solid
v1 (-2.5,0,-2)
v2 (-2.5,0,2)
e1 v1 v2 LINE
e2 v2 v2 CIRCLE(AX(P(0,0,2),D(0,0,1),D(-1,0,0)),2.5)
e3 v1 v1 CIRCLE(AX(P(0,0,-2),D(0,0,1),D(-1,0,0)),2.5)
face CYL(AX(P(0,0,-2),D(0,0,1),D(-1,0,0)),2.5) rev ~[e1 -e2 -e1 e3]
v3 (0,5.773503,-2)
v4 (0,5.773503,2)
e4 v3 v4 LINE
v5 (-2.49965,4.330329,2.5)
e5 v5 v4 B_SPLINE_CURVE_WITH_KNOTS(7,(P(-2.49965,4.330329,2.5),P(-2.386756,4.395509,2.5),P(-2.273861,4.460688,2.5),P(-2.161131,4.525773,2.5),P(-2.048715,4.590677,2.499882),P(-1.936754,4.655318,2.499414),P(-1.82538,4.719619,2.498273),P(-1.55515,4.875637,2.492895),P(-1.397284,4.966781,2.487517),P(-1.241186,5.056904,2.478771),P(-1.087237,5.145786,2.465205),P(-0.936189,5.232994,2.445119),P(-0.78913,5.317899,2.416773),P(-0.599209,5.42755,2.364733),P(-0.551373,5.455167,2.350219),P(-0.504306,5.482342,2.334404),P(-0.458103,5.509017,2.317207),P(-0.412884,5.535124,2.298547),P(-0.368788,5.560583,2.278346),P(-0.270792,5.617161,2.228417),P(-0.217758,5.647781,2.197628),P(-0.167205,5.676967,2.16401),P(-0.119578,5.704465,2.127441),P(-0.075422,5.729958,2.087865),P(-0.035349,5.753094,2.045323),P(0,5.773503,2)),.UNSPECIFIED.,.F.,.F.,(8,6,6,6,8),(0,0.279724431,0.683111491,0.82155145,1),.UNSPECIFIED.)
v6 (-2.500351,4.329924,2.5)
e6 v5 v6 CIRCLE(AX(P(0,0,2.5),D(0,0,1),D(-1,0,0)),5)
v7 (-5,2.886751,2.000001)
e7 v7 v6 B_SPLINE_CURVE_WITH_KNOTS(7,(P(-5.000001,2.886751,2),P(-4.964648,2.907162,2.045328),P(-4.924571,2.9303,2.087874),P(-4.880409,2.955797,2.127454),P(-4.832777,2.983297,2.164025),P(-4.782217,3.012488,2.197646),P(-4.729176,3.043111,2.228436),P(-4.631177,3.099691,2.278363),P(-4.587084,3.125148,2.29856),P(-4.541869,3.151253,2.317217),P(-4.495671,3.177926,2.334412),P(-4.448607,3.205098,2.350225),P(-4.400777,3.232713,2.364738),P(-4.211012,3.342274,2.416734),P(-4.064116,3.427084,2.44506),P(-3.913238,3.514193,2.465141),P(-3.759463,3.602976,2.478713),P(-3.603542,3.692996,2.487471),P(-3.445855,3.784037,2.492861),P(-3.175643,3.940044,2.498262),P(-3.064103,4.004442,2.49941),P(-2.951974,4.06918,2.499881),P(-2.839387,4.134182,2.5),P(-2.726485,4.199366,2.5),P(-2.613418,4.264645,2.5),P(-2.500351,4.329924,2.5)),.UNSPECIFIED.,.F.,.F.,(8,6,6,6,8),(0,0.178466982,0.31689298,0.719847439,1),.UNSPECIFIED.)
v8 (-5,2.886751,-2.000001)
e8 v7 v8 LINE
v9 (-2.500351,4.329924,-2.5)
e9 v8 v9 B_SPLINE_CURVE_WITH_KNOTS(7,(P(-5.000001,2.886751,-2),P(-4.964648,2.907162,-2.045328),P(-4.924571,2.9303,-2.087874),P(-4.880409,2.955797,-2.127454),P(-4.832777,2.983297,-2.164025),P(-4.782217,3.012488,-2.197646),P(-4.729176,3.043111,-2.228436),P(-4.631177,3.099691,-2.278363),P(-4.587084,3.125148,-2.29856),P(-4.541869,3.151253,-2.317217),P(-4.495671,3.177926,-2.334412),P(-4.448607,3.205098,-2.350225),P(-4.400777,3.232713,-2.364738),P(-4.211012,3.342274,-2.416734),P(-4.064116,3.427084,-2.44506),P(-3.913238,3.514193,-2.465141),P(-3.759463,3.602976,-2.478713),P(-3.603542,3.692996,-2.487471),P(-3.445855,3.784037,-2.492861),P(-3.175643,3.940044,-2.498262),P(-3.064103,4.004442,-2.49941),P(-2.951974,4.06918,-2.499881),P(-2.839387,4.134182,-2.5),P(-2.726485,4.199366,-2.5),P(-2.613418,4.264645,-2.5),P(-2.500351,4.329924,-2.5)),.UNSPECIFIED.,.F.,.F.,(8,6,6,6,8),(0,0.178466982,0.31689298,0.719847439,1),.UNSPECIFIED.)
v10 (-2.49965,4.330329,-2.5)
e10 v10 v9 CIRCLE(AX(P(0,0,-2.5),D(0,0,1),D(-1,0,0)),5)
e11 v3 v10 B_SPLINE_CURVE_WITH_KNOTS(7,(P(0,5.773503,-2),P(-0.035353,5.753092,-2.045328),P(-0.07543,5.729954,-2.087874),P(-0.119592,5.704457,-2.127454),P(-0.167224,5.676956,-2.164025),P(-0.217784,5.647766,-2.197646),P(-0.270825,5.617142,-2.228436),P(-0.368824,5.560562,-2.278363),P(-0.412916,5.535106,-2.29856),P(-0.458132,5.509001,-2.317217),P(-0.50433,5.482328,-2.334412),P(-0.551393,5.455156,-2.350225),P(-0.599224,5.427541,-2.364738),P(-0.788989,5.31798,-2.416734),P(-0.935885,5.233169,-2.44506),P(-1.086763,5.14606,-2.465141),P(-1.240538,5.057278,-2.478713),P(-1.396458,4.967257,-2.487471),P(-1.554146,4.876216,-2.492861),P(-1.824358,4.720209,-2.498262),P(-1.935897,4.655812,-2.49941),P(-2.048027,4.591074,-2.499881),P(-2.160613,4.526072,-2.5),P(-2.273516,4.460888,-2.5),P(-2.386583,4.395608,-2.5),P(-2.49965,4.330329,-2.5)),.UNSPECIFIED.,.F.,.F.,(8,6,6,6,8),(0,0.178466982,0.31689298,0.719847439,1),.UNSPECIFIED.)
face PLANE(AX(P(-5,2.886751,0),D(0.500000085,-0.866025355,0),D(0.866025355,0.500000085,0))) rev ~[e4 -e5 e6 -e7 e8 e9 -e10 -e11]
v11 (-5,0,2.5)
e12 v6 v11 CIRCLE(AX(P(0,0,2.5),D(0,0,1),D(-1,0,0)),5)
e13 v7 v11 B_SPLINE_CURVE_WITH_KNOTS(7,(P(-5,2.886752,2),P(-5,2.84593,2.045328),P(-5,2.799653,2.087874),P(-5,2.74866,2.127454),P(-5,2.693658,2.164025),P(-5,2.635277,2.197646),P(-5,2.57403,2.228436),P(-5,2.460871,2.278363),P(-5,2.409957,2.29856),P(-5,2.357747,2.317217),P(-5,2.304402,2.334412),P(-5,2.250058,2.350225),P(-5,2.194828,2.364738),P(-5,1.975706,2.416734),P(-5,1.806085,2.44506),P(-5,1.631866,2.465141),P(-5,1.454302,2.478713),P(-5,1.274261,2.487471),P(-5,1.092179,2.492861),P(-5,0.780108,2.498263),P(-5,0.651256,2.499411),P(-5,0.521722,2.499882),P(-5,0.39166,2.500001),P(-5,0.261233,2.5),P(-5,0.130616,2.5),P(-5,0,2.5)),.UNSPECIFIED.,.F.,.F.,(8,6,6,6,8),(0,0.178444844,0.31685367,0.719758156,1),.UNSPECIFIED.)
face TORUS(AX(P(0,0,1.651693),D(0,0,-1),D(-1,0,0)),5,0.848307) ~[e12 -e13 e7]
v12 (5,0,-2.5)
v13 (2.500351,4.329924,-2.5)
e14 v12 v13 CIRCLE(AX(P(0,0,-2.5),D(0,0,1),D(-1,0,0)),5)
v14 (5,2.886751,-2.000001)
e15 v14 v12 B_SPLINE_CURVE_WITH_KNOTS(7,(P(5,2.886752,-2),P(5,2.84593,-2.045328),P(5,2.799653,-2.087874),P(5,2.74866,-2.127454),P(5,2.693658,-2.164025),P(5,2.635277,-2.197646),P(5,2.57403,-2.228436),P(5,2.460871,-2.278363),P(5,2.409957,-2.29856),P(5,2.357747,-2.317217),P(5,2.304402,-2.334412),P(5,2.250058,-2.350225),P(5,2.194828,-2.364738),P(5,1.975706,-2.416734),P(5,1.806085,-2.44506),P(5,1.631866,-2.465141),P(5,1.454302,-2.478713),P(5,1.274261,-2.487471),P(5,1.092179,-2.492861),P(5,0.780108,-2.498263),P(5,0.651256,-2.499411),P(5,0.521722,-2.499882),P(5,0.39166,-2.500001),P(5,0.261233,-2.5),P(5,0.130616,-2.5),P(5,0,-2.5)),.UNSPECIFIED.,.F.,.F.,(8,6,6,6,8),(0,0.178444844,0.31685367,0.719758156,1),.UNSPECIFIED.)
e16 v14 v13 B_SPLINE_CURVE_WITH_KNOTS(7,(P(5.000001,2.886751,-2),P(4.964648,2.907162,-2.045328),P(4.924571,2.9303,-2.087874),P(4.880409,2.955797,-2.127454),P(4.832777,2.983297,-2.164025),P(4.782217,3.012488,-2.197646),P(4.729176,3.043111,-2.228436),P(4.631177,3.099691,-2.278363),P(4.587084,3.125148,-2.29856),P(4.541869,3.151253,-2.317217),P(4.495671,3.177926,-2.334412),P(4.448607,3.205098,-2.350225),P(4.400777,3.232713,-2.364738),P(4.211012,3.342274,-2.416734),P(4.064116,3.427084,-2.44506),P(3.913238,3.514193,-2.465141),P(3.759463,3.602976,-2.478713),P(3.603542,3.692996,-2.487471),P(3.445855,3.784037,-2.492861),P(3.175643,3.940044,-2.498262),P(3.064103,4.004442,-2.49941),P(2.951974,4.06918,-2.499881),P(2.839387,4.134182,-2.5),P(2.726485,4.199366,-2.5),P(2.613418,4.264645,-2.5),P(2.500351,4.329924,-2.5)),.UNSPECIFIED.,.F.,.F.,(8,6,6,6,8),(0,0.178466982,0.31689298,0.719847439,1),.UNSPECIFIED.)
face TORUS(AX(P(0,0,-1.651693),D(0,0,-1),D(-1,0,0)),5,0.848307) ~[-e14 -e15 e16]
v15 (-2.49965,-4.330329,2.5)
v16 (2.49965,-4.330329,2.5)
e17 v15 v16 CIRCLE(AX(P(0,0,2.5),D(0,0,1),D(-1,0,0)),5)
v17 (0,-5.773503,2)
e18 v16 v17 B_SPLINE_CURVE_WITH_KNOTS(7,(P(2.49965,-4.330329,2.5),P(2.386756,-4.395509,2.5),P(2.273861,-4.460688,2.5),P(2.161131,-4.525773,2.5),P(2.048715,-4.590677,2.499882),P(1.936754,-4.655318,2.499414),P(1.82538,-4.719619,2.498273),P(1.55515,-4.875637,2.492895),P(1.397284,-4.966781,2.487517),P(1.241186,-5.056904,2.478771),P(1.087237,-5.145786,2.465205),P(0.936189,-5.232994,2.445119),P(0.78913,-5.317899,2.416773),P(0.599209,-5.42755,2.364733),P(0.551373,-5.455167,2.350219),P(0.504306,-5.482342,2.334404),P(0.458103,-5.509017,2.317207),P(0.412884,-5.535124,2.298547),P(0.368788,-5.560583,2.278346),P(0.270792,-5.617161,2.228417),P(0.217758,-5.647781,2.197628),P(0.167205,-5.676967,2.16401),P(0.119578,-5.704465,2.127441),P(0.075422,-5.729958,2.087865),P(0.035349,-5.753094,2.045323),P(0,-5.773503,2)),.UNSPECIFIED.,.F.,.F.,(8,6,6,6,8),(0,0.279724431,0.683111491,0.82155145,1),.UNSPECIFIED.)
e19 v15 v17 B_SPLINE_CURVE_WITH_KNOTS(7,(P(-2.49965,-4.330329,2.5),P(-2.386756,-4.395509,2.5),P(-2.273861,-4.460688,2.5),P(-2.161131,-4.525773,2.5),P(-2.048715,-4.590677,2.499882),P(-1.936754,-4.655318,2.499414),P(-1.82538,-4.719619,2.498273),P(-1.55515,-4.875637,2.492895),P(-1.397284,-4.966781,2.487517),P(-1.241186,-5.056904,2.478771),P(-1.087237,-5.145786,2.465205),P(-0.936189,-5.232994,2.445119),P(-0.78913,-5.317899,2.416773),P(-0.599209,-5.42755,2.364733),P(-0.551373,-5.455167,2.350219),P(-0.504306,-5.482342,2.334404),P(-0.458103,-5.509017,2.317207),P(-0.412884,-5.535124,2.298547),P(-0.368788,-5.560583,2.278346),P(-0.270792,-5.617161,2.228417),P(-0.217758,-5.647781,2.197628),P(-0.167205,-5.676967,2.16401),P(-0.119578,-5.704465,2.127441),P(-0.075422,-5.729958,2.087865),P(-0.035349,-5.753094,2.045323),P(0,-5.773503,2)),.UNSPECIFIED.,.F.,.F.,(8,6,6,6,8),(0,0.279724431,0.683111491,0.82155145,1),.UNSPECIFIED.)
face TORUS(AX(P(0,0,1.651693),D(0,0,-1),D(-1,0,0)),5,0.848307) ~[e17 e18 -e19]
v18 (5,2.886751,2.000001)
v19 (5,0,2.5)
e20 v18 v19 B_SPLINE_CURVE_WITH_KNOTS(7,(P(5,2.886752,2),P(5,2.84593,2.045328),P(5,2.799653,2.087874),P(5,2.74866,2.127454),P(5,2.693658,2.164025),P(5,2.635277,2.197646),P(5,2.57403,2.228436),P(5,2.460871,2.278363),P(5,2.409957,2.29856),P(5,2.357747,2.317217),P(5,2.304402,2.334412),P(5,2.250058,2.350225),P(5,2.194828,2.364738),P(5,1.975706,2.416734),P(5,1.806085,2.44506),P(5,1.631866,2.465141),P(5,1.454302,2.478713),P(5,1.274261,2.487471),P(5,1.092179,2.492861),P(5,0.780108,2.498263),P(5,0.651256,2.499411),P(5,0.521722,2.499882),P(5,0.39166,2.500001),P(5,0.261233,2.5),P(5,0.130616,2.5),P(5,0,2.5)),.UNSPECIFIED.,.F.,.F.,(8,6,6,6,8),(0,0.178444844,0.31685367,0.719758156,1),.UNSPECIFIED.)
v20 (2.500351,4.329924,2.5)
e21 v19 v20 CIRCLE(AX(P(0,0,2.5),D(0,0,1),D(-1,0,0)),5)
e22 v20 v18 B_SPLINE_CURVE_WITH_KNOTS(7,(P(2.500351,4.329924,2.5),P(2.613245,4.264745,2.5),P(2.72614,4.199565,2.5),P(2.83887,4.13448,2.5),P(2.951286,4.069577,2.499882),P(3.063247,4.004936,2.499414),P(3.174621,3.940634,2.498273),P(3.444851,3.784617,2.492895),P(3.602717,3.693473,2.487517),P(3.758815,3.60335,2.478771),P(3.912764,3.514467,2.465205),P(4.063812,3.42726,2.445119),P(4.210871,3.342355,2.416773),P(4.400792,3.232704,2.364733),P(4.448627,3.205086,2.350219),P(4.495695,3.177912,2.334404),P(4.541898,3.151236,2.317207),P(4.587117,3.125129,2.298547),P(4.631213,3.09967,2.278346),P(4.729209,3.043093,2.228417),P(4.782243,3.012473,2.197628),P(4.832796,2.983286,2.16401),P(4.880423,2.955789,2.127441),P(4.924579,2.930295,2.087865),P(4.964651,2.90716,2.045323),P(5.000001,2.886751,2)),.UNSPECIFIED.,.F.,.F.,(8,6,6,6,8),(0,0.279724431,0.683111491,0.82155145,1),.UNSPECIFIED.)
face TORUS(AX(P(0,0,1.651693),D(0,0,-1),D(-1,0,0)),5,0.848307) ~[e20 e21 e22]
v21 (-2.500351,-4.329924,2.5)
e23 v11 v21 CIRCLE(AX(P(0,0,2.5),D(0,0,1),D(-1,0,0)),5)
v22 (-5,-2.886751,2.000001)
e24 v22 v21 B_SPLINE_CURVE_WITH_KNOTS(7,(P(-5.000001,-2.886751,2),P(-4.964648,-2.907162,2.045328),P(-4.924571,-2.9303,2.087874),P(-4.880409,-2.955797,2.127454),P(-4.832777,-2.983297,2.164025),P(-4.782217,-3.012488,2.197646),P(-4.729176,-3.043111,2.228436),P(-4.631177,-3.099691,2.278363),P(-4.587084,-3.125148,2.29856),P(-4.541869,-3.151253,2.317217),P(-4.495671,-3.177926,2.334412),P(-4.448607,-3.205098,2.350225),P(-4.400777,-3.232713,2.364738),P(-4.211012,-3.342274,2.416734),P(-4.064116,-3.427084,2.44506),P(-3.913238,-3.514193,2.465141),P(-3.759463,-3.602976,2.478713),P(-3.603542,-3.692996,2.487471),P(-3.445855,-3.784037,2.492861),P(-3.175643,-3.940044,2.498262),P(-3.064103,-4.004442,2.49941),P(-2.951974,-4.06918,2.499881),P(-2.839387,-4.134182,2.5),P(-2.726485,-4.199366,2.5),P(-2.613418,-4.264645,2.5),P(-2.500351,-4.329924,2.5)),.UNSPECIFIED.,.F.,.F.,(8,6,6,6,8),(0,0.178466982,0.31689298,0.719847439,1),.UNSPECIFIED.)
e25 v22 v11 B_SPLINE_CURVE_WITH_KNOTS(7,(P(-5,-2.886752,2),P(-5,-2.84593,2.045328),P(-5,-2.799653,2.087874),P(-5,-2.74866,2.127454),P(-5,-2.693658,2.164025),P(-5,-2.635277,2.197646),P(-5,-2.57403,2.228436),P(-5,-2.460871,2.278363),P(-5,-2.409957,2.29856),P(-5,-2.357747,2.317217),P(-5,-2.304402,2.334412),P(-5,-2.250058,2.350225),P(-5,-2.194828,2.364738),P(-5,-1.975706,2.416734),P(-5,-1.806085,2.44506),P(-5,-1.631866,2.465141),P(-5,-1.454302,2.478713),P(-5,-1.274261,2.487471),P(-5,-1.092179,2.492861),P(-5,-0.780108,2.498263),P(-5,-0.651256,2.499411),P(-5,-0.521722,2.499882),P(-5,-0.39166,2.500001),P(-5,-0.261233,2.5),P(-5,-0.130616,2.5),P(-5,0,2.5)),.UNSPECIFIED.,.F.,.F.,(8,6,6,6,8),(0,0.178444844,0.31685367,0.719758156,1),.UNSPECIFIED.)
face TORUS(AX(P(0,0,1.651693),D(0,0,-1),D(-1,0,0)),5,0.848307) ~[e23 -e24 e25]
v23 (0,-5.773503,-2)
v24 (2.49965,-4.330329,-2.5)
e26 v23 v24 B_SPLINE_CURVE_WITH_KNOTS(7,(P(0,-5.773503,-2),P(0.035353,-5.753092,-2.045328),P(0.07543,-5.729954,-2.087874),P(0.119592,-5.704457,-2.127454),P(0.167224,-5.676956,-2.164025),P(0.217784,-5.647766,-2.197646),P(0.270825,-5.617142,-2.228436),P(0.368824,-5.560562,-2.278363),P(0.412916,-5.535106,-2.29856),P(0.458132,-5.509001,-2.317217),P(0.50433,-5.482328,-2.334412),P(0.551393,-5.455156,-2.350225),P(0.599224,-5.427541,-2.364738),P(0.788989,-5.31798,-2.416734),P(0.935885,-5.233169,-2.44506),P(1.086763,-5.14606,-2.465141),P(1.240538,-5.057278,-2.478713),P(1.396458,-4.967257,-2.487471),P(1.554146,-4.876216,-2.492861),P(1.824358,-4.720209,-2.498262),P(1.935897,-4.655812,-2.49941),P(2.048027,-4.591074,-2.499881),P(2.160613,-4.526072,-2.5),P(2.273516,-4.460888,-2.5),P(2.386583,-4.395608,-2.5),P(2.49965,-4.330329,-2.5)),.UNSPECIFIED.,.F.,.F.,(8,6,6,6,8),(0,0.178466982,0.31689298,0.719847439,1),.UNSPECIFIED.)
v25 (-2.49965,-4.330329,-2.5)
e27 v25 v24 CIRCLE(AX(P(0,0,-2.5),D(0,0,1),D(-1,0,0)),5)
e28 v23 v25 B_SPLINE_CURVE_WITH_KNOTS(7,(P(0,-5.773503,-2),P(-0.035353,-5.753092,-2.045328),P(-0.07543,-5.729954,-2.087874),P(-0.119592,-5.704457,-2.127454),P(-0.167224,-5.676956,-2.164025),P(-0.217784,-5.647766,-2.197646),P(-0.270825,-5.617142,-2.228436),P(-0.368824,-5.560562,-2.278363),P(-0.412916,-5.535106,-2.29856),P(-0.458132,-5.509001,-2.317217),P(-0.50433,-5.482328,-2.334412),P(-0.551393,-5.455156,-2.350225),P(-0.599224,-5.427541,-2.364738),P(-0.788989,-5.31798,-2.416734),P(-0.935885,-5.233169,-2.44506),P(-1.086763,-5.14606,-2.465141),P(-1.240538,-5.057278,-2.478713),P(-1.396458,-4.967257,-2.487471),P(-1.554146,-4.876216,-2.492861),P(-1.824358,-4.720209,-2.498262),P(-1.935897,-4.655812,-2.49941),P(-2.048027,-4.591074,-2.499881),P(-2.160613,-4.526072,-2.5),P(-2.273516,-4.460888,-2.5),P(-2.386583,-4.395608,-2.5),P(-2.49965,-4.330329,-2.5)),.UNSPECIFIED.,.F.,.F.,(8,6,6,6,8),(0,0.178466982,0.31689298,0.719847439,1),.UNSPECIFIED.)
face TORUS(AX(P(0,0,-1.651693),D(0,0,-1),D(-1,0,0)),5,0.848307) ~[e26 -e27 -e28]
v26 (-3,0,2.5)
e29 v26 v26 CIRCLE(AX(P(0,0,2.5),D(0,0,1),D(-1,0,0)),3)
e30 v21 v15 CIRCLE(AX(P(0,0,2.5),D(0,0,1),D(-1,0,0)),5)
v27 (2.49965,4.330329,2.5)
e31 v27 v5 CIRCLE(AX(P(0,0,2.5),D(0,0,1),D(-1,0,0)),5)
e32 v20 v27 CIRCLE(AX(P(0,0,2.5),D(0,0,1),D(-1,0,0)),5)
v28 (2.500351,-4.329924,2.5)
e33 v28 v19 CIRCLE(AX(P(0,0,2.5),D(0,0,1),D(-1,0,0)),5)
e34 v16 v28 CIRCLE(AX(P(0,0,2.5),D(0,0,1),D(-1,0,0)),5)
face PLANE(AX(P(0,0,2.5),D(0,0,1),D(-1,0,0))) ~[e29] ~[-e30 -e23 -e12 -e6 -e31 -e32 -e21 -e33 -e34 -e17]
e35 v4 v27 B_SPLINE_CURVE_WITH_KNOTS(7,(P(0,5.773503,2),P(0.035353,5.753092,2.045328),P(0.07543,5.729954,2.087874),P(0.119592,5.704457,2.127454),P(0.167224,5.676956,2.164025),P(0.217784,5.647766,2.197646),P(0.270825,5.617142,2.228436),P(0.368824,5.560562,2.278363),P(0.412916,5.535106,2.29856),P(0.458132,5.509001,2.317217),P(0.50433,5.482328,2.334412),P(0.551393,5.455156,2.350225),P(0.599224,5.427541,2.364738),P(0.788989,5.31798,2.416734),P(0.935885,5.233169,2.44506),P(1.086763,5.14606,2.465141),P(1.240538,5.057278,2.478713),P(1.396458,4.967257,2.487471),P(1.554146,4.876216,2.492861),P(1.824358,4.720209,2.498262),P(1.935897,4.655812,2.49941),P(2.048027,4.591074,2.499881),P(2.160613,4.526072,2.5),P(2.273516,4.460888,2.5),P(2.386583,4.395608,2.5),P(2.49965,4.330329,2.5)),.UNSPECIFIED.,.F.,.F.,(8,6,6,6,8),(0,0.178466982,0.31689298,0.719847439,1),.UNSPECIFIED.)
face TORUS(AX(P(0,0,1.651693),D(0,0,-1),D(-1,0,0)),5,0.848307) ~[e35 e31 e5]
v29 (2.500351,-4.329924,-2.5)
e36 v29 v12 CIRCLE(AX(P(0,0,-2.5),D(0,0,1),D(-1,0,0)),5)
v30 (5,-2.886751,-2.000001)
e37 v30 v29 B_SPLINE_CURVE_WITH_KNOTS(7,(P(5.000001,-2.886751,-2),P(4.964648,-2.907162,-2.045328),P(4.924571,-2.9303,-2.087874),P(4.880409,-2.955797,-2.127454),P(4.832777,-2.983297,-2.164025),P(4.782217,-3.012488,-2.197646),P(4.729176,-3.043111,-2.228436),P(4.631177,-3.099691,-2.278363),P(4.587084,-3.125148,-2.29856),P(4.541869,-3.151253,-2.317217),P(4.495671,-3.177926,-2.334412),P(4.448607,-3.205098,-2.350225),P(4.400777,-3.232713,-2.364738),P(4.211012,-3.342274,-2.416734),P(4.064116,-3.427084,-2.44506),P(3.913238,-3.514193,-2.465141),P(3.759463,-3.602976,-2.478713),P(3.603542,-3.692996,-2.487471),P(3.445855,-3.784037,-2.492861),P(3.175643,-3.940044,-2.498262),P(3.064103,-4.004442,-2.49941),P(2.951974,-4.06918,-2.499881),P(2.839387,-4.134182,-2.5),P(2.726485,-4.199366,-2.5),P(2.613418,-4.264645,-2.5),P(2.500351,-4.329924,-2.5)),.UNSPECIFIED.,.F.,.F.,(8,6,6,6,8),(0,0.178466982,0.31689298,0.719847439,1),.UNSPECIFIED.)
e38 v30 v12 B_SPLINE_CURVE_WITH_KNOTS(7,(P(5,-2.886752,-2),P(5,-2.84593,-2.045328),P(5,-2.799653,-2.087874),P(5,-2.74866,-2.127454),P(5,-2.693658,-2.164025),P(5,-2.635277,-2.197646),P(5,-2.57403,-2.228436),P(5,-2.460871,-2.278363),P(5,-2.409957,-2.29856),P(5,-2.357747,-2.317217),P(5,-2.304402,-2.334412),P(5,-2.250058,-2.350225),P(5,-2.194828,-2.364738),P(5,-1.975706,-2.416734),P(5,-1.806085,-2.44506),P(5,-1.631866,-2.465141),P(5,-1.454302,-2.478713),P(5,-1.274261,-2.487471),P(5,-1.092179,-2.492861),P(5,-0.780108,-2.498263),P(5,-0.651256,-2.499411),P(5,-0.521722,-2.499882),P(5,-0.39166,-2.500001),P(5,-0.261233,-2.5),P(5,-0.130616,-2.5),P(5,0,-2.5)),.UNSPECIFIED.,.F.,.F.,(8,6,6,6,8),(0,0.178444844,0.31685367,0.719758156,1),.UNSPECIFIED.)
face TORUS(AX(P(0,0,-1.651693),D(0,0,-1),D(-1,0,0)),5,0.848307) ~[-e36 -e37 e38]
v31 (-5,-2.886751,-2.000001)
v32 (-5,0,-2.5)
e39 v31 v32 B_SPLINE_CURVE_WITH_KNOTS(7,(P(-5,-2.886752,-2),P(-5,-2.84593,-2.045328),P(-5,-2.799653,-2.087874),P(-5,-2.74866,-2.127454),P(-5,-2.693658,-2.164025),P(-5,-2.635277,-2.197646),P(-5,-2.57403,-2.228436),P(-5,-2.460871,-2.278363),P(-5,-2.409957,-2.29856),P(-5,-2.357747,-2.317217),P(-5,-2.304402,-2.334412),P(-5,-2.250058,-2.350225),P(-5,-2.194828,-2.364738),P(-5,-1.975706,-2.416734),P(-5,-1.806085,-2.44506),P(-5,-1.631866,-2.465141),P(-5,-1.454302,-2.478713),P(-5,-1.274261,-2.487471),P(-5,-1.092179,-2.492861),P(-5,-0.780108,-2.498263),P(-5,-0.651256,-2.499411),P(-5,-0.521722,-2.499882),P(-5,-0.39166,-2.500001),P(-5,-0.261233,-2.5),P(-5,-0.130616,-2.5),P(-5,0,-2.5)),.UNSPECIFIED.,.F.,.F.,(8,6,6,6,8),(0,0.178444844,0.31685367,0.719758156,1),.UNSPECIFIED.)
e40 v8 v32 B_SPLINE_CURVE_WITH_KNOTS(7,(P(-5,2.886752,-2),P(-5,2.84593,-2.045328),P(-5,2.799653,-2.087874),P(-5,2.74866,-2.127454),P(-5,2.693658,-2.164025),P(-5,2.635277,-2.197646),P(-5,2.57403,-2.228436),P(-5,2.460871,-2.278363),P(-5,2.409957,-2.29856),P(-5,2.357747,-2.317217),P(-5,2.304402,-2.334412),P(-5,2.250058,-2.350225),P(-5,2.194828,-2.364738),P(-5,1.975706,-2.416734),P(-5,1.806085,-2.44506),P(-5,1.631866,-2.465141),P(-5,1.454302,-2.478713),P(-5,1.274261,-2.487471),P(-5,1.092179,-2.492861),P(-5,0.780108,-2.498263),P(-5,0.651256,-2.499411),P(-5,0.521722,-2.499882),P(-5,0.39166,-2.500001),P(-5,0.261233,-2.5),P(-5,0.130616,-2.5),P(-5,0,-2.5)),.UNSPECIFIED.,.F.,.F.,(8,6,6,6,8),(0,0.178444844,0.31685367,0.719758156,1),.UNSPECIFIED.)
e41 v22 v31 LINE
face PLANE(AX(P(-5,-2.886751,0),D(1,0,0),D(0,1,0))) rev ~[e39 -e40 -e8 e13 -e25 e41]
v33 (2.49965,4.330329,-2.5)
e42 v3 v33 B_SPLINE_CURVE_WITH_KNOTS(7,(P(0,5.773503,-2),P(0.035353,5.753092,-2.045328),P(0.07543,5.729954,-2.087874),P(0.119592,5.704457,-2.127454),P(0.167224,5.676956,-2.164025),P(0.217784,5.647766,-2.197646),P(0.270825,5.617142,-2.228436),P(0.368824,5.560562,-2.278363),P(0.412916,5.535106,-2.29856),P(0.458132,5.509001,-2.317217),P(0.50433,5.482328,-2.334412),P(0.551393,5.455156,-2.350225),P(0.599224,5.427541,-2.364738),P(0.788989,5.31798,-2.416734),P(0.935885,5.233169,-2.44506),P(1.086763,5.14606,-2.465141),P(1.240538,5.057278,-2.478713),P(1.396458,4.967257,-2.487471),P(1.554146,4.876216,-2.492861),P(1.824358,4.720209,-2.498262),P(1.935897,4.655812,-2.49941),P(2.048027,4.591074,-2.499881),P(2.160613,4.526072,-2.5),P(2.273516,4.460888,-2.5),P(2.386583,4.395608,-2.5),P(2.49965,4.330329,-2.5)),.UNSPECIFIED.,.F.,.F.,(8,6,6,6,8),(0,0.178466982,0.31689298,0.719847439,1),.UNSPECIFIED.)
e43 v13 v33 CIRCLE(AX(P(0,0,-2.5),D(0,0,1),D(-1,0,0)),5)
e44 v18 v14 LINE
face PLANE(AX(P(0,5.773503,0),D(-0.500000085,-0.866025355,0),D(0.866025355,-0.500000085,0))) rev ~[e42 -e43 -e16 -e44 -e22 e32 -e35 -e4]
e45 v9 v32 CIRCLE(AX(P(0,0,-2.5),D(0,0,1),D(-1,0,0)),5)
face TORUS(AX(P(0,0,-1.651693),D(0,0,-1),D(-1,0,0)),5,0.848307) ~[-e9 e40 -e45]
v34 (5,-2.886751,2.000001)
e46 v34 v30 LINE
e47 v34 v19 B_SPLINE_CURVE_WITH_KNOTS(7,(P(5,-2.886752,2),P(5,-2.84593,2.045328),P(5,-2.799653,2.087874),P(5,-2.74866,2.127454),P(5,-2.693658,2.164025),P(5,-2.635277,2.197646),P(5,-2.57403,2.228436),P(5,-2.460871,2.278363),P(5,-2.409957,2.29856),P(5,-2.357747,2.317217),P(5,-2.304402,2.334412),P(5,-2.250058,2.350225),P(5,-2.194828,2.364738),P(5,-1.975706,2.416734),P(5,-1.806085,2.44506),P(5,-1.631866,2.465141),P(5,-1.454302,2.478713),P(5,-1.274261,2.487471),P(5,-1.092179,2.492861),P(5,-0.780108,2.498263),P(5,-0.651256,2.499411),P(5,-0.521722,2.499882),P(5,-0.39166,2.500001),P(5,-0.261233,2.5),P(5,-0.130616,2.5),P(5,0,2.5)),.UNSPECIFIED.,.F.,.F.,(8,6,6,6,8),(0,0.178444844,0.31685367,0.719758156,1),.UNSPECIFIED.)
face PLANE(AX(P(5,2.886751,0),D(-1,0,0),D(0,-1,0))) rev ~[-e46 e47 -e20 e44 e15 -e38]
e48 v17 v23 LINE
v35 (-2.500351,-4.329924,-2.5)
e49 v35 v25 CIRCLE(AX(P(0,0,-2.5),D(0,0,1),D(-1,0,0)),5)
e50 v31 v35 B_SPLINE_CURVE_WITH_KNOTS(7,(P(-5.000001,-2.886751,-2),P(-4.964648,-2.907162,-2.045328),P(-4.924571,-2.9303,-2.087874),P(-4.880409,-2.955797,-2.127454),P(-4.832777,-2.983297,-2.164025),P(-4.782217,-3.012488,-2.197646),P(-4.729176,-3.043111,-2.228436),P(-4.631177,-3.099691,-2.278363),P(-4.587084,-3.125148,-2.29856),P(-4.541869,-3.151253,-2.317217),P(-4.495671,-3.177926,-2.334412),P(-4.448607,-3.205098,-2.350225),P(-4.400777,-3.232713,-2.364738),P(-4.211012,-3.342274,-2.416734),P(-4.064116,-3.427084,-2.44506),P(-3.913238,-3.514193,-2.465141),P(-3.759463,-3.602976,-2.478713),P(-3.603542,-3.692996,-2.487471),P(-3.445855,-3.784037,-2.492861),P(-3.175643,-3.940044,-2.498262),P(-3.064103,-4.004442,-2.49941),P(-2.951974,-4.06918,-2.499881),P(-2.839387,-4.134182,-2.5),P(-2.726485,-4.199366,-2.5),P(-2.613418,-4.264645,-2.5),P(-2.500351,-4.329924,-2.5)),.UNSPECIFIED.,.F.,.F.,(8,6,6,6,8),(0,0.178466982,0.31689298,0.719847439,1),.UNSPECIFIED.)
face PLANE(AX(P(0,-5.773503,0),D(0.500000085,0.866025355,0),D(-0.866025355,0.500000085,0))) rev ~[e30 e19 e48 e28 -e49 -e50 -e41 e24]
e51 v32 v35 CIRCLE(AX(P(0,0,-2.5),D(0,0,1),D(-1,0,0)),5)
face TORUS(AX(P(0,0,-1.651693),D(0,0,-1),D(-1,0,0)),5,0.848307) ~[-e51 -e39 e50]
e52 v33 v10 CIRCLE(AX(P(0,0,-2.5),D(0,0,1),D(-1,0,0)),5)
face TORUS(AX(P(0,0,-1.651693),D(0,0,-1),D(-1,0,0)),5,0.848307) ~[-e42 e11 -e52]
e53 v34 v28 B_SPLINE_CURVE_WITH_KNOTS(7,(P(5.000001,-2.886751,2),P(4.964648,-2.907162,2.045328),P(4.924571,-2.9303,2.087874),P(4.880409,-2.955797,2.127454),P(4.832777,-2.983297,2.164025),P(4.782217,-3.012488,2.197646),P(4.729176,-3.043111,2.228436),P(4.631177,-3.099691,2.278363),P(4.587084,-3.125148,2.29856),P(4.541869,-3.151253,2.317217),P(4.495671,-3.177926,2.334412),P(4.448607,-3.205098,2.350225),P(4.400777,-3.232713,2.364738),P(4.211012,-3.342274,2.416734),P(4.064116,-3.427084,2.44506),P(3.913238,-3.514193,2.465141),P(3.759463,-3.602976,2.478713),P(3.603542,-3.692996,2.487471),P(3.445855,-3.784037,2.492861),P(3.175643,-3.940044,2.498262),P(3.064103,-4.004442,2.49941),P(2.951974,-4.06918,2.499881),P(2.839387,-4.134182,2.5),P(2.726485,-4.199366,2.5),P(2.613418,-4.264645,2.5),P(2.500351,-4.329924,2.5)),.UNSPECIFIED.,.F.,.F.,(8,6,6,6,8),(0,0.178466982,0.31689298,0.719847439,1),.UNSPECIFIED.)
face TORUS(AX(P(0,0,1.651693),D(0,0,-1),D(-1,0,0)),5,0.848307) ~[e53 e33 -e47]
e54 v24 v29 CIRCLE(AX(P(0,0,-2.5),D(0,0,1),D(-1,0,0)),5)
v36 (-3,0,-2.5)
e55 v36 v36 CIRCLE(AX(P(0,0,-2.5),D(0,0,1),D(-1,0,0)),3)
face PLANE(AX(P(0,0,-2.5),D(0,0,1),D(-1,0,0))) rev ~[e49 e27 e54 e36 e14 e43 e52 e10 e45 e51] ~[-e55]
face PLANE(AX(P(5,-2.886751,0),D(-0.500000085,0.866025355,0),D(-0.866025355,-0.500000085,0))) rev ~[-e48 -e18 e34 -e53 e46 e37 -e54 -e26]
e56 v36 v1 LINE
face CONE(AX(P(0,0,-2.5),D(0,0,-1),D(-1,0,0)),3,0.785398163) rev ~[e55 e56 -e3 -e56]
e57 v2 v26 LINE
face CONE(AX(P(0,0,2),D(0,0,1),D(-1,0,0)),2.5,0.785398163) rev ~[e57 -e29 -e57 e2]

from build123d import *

# Parameters (mm, degrees)
F2_R     = 6.562274
F3_DEPTH = 12.5


with BuildPart() as f1:
    # F0 (on Front) → F1 (revolve)
    with BuildSketch(Plane.XZ):
        with BuildLine():
            Line((-2.5, -2), (-2.5, 0))
            Line((-2.5, 0), (-2.5, 2))
            Line((-2.5, 2), (-3, 2.5))
            Line((-3, 2.5), (-5, 2.5))
            ThreePointArc((-5, 2.5), (-5.460518, 2.364117), (-5.773503, 2))
            Line((-5.773503, 2), (-5.773503, 0))
            Line((-5.773503, 0), (-5.773503, -2))
            ThreePointArc((-5.773503, -2), (-5.460518, -2.364117), (-5, -2.5))
            Line((-5, -2.5), (-3, -2.5))
            Line((-3, -2.5), (-2.5, -2))
        make_face()
    revolve(axis=Axis((0, 0, 4.430122), (0, 0, 1)))

    # F2 (on Top) → F3 (cut, symmetric)
    with BuildSketch(Plane.XY):
        Circle(F2_R)
        Polygon((0, 5.773503), (5, 2.886751), (5, -2.886751), (0, -5.773503), (-5, -2.886751), (-5, 2.886751), align=None, mode=Mode.SUBTRACT)
    extrude(amount=F3_DEPTH, both=True, mode=Mode.SUBTRACT)


solid = f1.part
